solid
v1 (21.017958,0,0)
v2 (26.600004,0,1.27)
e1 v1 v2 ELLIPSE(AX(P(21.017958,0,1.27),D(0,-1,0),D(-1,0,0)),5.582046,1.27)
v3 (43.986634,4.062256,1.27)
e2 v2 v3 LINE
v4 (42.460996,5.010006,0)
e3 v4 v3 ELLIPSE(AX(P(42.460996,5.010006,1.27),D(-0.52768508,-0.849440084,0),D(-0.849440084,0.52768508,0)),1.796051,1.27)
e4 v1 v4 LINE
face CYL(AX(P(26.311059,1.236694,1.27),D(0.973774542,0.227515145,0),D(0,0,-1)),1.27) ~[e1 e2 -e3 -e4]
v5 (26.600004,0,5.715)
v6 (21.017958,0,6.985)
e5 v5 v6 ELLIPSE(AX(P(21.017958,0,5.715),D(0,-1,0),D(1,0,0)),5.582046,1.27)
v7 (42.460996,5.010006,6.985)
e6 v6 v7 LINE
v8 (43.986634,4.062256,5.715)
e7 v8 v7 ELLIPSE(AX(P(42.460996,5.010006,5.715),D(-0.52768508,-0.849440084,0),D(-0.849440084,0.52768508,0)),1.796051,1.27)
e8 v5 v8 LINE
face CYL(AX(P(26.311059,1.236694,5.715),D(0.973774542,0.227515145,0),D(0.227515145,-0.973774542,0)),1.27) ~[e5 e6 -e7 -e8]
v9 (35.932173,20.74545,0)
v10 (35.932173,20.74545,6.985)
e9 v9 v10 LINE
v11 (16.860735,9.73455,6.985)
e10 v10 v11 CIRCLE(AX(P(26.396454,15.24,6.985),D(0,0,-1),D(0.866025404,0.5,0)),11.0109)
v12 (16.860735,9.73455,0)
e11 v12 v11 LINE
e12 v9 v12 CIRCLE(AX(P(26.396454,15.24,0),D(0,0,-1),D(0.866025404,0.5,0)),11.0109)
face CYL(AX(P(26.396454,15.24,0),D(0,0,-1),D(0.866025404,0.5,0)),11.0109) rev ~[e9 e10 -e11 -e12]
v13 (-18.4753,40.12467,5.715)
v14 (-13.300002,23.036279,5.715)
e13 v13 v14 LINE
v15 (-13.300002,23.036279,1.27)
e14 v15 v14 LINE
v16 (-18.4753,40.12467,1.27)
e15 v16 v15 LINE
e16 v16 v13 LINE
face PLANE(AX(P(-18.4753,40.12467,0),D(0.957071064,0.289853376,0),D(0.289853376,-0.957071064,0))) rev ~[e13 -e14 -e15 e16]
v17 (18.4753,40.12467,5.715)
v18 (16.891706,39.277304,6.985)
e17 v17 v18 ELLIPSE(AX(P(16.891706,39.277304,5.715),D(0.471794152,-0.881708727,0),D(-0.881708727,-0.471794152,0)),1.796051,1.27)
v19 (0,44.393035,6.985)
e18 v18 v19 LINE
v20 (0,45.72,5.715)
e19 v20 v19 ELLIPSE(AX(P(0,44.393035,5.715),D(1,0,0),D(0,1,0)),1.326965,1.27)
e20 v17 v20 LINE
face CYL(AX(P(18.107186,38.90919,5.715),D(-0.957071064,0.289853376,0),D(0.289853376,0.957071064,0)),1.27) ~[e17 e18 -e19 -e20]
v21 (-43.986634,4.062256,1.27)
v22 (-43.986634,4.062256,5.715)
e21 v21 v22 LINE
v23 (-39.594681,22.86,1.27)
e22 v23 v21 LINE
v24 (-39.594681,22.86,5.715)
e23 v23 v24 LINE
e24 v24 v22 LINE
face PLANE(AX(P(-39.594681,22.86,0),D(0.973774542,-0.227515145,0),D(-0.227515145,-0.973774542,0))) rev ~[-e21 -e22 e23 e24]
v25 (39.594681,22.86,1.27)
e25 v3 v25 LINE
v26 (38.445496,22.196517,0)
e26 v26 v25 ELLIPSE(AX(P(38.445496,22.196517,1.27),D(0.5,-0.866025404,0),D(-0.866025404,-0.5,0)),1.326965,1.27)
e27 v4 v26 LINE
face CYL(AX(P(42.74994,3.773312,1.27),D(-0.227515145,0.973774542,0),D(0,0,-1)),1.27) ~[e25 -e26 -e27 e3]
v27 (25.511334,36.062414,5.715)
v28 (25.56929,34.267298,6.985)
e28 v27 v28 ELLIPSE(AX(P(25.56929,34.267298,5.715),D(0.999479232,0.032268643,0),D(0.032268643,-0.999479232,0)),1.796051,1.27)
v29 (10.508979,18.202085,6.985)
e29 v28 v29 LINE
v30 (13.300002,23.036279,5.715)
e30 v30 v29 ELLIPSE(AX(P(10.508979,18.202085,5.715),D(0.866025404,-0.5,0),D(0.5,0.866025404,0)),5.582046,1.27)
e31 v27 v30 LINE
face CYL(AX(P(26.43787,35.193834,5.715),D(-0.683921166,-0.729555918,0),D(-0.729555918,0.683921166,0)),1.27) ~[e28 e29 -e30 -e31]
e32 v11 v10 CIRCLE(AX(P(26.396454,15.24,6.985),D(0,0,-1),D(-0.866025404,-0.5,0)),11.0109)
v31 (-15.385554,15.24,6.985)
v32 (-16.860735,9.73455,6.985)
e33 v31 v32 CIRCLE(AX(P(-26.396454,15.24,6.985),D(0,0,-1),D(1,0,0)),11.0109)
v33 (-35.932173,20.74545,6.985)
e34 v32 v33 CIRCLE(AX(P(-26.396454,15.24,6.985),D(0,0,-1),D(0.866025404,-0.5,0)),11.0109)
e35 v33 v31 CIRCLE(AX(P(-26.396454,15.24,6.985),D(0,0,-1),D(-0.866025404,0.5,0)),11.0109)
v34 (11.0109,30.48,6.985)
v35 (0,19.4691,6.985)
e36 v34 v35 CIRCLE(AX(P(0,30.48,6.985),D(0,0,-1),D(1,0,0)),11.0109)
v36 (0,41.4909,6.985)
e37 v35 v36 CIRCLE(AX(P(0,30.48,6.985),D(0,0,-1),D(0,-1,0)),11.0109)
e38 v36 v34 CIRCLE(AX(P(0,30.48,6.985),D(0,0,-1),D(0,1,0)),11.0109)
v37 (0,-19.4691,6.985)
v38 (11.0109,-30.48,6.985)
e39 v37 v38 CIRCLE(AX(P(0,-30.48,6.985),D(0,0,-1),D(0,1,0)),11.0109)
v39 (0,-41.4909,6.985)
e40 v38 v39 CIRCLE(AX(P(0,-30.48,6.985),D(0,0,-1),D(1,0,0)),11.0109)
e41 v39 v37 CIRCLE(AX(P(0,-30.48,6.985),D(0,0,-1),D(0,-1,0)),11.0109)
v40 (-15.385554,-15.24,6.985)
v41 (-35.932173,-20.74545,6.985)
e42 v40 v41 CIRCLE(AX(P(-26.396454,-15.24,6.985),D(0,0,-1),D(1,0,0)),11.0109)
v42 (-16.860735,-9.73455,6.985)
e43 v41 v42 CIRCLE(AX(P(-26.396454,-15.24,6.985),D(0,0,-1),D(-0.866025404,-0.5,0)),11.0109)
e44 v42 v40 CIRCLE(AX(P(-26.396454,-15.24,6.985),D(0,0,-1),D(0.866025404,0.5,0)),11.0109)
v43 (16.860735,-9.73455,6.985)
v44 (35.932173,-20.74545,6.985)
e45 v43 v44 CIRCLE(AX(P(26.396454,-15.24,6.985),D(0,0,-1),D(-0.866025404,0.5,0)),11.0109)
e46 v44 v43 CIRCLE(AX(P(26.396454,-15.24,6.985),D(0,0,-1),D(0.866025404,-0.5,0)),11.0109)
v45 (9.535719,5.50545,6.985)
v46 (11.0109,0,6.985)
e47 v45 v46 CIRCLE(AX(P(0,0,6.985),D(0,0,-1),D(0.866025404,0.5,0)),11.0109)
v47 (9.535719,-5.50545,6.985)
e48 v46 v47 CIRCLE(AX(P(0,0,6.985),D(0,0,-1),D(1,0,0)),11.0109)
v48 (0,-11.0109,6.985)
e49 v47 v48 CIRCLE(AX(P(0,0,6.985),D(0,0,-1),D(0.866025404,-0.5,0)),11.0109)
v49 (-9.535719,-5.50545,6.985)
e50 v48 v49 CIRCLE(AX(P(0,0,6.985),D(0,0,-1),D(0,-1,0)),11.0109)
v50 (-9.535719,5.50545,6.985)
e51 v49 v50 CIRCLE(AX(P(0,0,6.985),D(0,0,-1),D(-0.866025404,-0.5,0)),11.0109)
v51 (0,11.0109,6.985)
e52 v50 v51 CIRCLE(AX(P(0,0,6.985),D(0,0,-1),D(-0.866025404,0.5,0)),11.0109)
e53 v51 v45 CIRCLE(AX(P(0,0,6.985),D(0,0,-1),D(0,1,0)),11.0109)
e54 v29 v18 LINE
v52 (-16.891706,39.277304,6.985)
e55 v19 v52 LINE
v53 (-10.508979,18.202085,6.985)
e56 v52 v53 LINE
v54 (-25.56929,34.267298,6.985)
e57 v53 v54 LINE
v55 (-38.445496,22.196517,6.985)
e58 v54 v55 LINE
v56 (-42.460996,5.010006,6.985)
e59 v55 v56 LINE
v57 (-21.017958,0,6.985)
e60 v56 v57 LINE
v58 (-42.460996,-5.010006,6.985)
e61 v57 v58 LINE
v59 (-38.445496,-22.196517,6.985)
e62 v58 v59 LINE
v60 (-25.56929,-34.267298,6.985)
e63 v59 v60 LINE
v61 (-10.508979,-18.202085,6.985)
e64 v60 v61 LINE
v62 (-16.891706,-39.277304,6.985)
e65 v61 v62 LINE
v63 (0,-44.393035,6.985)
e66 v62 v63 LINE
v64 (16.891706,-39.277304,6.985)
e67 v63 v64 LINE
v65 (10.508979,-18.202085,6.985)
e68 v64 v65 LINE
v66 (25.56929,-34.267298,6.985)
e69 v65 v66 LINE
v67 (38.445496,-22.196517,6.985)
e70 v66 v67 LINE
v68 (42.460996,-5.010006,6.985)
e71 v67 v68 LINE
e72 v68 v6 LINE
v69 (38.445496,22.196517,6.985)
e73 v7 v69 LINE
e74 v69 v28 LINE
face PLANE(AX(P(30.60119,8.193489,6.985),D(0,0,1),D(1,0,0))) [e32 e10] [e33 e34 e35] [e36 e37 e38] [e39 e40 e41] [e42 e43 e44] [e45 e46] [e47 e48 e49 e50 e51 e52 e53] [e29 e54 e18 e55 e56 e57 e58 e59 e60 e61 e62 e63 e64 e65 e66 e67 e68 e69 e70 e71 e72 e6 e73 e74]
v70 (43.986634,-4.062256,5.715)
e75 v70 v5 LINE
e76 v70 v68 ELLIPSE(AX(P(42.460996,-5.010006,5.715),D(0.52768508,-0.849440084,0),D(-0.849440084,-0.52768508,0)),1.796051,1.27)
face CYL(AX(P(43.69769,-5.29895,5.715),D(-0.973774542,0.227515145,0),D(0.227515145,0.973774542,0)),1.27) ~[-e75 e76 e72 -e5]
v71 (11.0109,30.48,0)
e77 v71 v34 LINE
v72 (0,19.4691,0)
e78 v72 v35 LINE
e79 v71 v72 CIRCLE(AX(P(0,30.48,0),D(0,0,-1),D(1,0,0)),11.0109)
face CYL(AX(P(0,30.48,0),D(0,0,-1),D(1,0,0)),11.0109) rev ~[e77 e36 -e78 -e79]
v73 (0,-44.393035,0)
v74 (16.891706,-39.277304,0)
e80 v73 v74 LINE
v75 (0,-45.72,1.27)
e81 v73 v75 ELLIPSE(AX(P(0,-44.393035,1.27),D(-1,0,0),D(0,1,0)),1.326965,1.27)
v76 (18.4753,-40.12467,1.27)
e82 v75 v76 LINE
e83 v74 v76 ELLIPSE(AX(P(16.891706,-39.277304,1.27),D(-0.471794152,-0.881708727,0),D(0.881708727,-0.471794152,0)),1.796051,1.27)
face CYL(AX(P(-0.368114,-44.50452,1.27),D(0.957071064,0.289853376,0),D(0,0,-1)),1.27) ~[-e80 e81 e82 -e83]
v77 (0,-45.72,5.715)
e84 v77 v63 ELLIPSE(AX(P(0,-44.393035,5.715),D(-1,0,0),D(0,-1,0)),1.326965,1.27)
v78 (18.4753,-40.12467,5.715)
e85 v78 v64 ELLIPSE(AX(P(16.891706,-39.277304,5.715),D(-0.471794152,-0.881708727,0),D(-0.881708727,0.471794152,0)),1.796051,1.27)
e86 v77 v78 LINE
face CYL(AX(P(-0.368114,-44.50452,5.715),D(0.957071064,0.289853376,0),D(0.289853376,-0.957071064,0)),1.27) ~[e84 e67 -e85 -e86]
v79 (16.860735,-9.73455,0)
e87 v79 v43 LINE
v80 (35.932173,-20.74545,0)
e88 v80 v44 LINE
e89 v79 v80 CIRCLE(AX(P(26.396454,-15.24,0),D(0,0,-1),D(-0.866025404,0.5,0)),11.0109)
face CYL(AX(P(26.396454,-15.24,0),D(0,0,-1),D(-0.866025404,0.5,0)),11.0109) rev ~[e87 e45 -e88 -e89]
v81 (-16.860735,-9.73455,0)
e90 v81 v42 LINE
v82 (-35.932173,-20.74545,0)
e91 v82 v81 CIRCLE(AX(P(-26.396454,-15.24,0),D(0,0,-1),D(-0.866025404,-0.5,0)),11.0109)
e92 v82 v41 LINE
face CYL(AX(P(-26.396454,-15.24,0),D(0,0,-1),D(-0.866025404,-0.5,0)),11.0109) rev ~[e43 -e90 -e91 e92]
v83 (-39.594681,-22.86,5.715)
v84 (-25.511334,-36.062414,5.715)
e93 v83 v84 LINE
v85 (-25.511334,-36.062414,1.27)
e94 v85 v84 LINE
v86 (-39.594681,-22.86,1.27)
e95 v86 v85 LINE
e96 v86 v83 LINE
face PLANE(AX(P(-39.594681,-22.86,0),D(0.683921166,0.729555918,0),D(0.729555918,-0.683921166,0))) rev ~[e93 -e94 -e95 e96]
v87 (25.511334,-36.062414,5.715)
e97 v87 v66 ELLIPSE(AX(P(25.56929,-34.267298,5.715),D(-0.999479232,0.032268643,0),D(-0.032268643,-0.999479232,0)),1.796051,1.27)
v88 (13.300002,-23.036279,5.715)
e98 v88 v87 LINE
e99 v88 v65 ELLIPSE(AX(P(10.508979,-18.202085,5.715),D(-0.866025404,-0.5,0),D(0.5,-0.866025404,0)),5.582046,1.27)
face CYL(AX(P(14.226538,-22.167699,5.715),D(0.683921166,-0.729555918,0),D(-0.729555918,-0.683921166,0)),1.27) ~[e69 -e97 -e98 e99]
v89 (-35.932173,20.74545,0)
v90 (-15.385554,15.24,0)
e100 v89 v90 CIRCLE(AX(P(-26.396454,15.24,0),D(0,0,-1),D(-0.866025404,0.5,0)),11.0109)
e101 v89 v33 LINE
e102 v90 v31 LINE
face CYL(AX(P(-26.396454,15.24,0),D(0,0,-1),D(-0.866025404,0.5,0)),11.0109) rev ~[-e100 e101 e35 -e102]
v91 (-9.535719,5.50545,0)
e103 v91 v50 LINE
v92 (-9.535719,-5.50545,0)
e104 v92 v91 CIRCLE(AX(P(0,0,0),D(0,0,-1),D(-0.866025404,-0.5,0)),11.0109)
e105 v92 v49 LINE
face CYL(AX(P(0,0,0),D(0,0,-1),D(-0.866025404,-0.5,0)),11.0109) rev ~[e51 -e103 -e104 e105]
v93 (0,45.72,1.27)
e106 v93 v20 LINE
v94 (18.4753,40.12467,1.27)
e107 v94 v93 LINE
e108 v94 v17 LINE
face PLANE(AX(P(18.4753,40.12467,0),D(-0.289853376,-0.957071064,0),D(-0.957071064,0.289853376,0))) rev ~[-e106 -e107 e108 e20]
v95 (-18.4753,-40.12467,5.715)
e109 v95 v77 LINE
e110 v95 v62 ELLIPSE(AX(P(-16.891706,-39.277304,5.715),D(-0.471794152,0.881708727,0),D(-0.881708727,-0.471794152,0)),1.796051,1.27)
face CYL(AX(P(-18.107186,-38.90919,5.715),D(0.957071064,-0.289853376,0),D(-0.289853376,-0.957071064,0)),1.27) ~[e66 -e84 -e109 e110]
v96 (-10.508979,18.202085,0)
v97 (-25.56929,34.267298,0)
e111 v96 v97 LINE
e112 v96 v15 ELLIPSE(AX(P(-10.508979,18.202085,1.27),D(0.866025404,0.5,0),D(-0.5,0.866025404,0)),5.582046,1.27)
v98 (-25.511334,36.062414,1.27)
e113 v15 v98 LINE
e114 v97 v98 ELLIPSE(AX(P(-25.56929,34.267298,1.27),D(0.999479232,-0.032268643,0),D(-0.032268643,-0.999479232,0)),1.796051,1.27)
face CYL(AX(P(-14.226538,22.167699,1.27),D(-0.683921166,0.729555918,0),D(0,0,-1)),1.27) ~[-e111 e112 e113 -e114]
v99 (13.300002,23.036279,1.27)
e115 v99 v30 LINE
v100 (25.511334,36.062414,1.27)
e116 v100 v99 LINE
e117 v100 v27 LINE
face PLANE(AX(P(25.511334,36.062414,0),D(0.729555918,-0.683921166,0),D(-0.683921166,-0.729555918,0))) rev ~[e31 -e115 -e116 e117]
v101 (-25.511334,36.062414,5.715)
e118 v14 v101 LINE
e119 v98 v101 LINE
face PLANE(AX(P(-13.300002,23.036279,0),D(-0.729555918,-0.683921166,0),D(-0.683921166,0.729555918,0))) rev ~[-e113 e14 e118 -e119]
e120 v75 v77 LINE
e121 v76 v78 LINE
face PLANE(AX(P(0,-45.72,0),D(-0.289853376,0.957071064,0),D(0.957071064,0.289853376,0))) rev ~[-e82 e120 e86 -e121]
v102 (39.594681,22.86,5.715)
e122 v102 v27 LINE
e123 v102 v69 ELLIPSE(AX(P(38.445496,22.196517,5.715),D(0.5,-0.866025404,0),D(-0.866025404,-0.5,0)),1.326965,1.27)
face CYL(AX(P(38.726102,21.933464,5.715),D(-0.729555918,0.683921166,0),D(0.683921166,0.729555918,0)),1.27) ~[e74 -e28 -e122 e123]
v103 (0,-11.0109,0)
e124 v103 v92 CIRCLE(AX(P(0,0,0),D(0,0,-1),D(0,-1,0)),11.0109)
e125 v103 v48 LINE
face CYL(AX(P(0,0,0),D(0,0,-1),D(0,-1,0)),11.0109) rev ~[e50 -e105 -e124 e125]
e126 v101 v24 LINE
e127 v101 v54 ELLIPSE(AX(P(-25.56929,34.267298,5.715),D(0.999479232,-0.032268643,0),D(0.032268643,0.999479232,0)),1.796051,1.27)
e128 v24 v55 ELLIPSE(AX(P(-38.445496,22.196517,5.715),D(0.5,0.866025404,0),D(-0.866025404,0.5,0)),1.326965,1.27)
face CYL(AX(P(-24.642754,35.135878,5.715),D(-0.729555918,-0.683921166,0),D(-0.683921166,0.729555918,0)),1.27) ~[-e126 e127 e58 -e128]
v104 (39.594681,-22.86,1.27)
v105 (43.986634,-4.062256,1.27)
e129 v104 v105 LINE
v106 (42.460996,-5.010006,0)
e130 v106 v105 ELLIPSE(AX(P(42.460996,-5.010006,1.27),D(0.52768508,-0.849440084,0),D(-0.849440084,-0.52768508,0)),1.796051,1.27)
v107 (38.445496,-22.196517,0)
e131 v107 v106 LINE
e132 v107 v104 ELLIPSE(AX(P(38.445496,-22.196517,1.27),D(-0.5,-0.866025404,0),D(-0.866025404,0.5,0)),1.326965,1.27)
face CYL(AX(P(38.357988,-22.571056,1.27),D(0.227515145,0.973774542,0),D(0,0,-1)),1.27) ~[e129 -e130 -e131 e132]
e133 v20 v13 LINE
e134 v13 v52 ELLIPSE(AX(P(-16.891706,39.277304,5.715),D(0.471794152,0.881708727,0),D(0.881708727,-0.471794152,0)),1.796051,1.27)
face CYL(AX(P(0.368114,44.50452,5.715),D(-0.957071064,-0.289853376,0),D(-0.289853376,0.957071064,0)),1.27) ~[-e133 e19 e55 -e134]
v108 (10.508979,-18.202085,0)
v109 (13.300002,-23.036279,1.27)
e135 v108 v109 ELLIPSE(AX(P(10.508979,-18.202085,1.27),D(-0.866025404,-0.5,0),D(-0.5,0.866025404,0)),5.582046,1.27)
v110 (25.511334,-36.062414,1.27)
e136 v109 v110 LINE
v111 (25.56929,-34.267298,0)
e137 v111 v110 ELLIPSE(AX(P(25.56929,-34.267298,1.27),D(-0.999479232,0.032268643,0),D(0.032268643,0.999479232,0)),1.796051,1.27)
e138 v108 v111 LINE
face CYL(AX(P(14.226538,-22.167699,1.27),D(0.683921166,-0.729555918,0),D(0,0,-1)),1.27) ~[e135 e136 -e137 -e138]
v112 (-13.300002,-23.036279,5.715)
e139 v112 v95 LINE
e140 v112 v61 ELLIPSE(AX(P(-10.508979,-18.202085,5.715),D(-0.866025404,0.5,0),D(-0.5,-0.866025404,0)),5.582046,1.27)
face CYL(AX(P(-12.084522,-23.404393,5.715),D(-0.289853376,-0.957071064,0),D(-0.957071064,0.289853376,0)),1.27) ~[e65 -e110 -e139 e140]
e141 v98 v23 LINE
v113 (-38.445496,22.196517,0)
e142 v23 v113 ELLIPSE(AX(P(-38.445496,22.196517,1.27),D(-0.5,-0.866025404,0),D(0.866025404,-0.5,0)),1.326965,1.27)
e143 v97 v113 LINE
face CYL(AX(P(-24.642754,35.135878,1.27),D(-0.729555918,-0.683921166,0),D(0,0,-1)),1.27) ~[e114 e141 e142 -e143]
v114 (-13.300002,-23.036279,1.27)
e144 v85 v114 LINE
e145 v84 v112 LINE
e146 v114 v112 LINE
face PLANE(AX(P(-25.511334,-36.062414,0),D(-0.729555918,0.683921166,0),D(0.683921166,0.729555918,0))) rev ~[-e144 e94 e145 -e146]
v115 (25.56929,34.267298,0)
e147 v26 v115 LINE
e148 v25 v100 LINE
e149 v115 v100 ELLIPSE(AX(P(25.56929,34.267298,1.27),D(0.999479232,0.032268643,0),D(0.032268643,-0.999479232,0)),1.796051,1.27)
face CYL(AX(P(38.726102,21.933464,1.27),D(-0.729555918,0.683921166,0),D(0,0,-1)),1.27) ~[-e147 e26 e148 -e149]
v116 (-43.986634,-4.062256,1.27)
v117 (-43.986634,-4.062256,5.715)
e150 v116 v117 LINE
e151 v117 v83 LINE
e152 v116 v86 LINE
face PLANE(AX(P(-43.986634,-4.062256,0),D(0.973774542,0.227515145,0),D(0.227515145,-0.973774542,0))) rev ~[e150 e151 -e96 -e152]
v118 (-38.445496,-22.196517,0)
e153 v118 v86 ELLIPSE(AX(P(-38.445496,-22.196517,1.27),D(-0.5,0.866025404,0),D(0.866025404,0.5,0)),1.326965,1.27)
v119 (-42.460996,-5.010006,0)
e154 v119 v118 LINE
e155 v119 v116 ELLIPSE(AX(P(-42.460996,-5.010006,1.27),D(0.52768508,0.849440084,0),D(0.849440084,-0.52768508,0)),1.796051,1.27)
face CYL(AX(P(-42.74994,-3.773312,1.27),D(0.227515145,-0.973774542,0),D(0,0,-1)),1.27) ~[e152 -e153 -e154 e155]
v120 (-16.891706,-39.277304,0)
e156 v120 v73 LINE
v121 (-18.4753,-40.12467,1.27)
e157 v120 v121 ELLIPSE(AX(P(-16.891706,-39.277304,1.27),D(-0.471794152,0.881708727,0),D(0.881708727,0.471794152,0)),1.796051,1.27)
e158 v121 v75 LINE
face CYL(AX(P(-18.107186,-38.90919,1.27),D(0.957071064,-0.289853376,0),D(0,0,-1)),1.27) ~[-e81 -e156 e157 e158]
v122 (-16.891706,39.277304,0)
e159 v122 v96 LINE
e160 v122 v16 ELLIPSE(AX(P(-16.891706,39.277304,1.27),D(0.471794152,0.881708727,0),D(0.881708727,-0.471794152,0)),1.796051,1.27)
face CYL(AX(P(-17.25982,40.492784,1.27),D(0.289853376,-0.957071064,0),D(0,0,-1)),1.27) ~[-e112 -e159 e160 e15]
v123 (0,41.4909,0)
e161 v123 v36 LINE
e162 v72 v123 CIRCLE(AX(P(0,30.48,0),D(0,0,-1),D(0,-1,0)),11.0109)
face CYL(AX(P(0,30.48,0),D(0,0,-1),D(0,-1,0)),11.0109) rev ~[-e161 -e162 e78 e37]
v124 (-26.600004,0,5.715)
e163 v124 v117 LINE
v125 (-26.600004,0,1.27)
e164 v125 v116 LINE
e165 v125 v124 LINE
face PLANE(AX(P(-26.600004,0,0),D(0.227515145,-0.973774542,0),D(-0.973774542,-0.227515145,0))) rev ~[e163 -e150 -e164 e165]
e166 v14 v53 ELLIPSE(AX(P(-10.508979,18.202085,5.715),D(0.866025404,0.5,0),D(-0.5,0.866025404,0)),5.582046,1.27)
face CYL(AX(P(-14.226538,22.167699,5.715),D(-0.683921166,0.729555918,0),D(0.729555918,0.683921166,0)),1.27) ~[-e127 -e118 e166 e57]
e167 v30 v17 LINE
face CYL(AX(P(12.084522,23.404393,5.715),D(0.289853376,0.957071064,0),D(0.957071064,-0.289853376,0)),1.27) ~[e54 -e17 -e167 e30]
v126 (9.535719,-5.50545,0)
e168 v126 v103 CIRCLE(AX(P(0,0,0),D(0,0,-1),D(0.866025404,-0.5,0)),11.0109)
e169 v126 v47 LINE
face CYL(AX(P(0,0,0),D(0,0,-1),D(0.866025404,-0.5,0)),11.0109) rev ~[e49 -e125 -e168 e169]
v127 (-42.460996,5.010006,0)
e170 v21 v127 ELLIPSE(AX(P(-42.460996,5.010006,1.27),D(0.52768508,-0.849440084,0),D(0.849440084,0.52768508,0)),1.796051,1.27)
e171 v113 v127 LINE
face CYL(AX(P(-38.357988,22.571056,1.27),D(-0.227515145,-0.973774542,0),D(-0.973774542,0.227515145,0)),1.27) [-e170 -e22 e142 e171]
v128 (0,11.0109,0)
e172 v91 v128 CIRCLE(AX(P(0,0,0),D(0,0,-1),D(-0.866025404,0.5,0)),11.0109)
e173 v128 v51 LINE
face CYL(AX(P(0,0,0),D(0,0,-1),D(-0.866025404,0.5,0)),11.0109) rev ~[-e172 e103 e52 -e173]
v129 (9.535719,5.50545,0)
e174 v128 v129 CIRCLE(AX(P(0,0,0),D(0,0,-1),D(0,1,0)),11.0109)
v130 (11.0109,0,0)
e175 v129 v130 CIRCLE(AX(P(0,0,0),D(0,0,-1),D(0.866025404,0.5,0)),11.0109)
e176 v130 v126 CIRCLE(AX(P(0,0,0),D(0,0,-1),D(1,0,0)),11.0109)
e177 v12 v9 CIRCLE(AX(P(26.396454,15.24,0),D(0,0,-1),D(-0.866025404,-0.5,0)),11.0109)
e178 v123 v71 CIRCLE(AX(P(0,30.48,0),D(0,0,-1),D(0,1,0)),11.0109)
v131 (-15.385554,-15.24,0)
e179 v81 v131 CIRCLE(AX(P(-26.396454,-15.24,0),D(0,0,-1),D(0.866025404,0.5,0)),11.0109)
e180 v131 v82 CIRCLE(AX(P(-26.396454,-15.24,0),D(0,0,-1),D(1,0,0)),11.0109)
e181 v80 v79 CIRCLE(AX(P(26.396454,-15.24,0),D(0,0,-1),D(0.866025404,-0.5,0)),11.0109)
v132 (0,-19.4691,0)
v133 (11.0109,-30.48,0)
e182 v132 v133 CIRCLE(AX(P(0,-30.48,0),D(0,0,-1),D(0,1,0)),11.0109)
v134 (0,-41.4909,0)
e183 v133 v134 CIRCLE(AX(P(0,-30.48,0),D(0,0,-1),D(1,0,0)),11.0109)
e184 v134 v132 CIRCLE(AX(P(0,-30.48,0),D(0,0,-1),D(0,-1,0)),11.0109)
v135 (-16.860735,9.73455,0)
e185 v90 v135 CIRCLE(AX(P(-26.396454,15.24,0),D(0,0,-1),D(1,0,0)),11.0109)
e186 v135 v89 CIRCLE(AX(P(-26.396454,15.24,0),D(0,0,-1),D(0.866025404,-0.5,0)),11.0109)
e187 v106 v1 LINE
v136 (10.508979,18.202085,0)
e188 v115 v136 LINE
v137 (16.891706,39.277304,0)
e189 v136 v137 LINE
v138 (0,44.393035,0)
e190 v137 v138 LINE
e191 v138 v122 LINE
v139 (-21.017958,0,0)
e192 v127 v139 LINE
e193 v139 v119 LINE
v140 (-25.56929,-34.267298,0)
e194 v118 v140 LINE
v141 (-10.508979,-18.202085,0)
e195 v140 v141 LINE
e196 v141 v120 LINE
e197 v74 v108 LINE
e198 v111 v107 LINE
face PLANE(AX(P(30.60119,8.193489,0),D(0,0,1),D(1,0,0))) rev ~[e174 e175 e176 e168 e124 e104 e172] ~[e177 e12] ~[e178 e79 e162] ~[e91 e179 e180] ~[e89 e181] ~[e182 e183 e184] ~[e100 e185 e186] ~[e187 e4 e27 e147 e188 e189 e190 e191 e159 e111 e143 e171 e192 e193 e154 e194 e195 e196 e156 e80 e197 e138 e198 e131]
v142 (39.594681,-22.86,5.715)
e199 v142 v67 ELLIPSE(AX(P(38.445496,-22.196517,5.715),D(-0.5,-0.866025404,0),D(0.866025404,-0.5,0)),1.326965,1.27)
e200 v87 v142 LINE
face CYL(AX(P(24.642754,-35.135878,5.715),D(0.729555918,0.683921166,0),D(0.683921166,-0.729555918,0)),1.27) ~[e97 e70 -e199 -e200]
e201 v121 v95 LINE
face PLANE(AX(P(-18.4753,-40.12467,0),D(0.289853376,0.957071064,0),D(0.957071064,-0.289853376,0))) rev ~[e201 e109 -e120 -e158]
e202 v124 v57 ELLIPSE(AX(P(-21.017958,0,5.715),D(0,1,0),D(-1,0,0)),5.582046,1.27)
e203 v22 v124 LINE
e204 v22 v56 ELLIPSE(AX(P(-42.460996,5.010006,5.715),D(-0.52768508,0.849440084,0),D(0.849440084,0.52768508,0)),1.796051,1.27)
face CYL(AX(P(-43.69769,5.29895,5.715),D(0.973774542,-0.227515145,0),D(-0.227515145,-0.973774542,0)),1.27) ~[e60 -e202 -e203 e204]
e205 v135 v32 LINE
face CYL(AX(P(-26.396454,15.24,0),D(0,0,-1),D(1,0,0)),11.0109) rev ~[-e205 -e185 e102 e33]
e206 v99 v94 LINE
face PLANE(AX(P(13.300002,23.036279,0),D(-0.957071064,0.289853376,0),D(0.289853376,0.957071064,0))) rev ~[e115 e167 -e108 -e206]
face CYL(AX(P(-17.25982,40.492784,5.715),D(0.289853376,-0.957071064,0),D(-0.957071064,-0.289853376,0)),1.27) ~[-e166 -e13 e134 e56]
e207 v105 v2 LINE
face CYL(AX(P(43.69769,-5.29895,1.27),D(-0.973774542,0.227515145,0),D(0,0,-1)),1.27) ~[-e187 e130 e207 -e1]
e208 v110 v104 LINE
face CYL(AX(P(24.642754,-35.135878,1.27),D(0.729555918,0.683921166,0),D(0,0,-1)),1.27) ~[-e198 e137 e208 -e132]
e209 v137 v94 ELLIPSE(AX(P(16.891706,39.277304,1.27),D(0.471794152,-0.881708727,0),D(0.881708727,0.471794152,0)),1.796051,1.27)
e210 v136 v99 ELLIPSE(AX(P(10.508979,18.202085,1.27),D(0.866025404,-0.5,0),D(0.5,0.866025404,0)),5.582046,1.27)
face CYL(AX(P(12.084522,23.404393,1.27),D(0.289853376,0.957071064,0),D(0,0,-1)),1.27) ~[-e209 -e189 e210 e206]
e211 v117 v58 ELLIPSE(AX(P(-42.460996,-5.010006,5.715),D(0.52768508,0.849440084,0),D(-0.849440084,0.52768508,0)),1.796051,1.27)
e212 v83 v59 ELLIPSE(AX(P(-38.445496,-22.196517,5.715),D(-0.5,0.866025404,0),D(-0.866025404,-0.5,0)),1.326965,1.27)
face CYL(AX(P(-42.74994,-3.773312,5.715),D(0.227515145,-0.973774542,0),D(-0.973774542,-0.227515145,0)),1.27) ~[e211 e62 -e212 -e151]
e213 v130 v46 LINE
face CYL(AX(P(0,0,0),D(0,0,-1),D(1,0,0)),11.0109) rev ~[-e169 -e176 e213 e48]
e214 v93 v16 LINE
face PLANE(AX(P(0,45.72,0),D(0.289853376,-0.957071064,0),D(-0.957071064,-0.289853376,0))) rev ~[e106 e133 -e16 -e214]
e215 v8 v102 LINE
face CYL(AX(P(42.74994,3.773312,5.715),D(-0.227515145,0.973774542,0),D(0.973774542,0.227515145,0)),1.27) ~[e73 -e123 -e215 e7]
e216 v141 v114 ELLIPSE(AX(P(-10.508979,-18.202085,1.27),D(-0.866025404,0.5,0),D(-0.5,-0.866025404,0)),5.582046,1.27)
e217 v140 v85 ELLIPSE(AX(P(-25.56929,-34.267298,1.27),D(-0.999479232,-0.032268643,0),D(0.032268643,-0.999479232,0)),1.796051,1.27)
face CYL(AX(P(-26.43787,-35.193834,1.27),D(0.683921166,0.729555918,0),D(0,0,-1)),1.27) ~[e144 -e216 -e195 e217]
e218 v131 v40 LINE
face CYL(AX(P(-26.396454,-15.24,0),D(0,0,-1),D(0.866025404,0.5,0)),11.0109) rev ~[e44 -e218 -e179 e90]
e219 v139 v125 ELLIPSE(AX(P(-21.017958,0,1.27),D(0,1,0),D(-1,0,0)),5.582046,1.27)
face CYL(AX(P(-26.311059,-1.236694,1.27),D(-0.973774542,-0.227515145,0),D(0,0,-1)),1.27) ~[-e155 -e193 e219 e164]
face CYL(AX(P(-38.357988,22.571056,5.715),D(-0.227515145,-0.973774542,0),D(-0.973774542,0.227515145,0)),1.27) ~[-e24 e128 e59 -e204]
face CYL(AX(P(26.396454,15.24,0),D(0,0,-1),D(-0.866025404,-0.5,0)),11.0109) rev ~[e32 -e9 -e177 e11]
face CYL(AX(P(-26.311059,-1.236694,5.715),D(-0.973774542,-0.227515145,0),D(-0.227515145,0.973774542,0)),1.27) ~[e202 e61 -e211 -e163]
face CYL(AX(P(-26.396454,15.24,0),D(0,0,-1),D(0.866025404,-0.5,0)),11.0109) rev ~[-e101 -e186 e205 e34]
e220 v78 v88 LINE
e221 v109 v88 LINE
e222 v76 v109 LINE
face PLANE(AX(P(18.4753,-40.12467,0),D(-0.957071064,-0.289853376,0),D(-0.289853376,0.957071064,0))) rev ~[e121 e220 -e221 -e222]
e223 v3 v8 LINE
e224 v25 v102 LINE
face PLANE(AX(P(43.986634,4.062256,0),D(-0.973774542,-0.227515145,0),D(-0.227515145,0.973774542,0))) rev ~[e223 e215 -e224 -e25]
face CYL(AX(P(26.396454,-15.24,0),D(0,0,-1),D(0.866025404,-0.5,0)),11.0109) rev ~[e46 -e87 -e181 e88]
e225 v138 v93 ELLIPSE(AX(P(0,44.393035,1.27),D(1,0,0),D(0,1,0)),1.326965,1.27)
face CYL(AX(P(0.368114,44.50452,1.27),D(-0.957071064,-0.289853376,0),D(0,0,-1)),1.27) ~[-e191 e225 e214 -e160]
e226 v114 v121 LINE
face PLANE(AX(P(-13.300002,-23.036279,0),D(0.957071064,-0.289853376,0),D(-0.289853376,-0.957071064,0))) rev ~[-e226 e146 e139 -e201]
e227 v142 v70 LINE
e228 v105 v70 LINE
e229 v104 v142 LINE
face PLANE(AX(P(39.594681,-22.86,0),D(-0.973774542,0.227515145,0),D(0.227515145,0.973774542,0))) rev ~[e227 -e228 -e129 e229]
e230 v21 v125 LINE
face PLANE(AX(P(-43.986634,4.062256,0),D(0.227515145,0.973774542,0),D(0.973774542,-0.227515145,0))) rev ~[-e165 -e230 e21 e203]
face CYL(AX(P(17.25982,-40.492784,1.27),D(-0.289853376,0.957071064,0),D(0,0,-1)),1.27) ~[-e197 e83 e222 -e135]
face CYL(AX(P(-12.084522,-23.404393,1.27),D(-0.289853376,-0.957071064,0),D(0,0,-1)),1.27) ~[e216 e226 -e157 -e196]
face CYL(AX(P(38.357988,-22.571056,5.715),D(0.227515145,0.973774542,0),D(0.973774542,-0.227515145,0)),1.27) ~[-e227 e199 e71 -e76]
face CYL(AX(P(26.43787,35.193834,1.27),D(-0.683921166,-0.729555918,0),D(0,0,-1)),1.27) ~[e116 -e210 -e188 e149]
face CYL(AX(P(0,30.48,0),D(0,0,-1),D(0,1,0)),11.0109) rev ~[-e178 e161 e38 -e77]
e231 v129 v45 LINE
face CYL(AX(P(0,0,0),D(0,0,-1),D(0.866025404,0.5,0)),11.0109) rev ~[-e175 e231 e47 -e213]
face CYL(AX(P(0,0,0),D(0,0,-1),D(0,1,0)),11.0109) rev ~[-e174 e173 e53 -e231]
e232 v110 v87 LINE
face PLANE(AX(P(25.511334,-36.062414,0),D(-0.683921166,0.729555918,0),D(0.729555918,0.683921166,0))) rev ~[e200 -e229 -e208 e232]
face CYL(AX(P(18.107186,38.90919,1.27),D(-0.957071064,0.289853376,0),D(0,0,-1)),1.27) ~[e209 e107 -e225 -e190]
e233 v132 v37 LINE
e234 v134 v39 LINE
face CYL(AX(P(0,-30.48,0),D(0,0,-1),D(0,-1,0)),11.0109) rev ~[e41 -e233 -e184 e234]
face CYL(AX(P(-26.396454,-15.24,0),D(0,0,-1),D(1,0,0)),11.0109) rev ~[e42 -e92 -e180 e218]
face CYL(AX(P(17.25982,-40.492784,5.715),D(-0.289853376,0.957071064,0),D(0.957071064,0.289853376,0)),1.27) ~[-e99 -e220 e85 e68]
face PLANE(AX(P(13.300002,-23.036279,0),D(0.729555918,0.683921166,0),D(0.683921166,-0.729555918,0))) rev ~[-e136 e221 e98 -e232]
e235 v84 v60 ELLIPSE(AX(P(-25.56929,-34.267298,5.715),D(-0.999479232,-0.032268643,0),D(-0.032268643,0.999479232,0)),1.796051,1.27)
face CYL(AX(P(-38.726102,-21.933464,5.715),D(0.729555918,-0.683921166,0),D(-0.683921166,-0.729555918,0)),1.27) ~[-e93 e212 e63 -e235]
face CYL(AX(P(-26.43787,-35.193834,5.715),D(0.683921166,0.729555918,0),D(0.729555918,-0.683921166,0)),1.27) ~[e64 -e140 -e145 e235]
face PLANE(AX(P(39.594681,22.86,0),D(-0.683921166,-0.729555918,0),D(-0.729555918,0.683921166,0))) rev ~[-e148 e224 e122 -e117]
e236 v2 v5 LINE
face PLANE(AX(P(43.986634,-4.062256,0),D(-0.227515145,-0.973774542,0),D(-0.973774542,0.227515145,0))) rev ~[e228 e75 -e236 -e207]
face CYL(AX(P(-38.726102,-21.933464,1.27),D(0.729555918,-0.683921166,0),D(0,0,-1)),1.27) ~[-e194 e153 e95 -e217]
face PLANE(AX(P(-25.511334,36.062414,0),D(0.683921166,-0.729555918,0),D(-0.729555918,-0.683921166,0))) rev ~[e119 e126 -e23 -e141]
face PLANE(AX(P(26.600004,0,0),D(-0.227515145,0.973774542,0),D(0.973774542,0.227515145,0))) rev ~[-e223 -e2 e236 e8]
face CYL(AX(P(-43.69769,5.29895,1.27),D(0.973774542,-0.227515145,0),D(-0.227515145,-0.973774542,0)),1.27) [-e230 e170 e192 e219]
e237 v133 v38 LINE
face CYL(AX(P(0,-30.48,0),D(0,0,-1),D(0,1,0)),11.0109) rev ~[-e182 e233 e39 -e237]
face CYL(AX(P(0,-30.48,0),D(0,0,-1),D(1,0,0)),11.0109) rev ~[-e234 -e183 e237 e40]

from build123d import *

# Parameters (mm, degrees)
F1_DEPTH = 6.985
F2_R     = 1.27
F3_R     = 1.27


with BuildPart() as f1:
    # F0 (on Top) → F1 (new body)
    with BuildSketch(Plane.XY):
        with BuildLine():
            Line((16.8607351888, 9.73455), (12.3232464425, 7.1148296509))
            ThreePointArc((12.3232464425, 7.1148296509), (13.2836873211, 5.1016521834), (13.9177271481, 2.9631191126))
            Line((13.9177271481, 2.9631191126), (26.6000035513, 0))
            Line((26.6000035513, 0), (43.9866338233, 4.0622562405))
            Line((43.9866338233, 4.0622562405), (39.594681461, 22.86))
            Line((39.594681461, 22.86), (35.9321734259, 20.74545))
            ThreePointArc((35.9321734259, 20.74545), (37.032166988, 18.0898306237), (37.4073543073, 15.24))
            ThreePointArc((37.4073543073, 15.24), (29.2462849311, 4.6042873193), (16.8607351888, 9.73455))
        make_face()
        with BuildLine():
            ThreePointArc((9.525, 10.5715457169), (11.0600040526, 8.9531845843), (12.3232464425, 7.1148296509))
            Line((12.3232464425, 7.1148296509), (16.8607351888, 9.73455))
            ThreePointArc((16.8607351888, 9.73455), (20.8910043073, 24.7757191185), (35.9321734259, 20.74545))
            Line((35.9321734259, 20.74545), (39.594681461, 22.86))
            Line((39.594681461, 22.86), (25.5113340126, 36.0624141977))
            Line((25.5113340126, 36.0624141977), (13.3000017757, 23.0362788162))
            Line((13.3000017757, 23.0362788162), (9.525, 10.5715457169))
        make_face()
        with BuildLine():
            Line((16.8607351888, -9.73455), (12.3232464425, -7.1148296509))
            ThreePointArc((12.3232464425, -7.1148296509), (11.0600040526, -8.9531845843), (9.525, -10.5715457169))
            Line((9.525, -10.5715457169), (13.3000017757, -23.0362788162))
            Line((13.3000017757, -23.0362788162), (25.5113340126, -36.0624141977))
            Line((25.5113340126, -36.0624141977), (39.594681461, -22.86))
            Line((39.594681461, -22.86), (35.9321734259, -20.74545))
            ThreePointArc((35.9321734259, -20.74545), (20.8910043073, -24.7757191185), (16.8607351888, -9.73455))
        make_face()
        with BuildLine():
            ThreePointArc((13.9177271481, -2.9631191126), (13.2836873211, -5.1016521834), (12.3232464425, -7.1148296509))
            Line((12.3232464425, -7.1148296509), (16.8607351888, -9.73455))
            ThreePointArc((16.8607351888, -9.73455), (29.2462849311, -4.6042873193), (37.4073543073, -15.24))
            ThreePointArc((37.4073543073, -15.24), (37.032166988, -18.0898306237), (35.9321734259, -20.74545))
            Line((35.9321734259, -20.74545), (39.594681461, -22.86))
            Line((39.594681461, -22.86), (43.9866338233, -4.0622562405))
            Line((43.9866338233, -4.0622562405), (26.6000035513, 0))
            Line((26.6000035513, 0), (13.9177271481, -2.9631191126))
        make_face()
        with BuildLine():
            ThreePointArc((-4.3927271481, 13.5346648295), (-2.2236832685, 14.0548367676), (0, 14.2296593017))
            Line((0, 14.2296593017), (0, 19.4691))
            ThreePointArc((0, 19.4691), (-11.0109, 30.48), (0, 41.4909))
            Line((0, 41.4909), (0, 45.72))
            Line((0, 45.72), (-18.4752998107, 40.1246704382))
            Line((-18.4752998107, 40.1246704382), (-13.3000017757, 23.0362788162))
            Line((-13.3000017757, 23.0362788162), (-4.3927271481, 13.5346648295))
        make_face()
        with BuildLine():
            Line((0, 19.4691), (0, 14.2296593017))
            ThreePointArc((0, 14.2296593017), (2.2236832685, 14.0548367676), (4.3927271481, 13.5346648295))
            Line((4.3927271481, 13.5346648295), (13.3000017757, 23.0362788162))
            Line((13.3000017757, 23.0362788162), (18.4752998107, 40.1246704382))
            Line((18.4752998107, 40.1246704382), (0, 45.72))
            Line((0, 45.72), (0, 41.4909))
            ThreePointArc((0, 41.4909), (7.785882057, 38.265882057), (11.0109, 30.48))
            ThreePointArc((11.0109, 30.48), (7.785882057, 22.694117943), (0, 19.4691))
        make_face()
        with BuildLine():
            Line((26.6000035513, 0), (13.9177271481, 2.9631191126))
            ThreePointArc((13.9177271481, 2.9631191126), (14.1514613983, 1.4897463328), (14.2296593017, 0))
            ThreePointArc((14.2296593017, 0), (14.1514613983, -1.4897463328), (13.9177271481, -2.9631191126))
            Line((13.9177271481, -2.9631191126), (26.6000035513, 0))
        make_face()
        with BuildLine():
            ThreePointArc((4.3927271481, 13.5346648295), (7.1148296509, 12.3232464425), (9.525, 10.5715457169))
            Line((9.525, 10.5715457169), (13.3000017757, 23.0362788162))
            Line((13.3000017757, 23.0362788162), (4.3927271481, 13.5346648295))
        make_face()
        with BuildLine():
            Line((0, -19.4691), (0, -14.2296593017))
            ThreePointArc((0, -14.2296593017), (-2.2236832685, -14.0548367676), (-4.3927271481, -13.5346648295))
            Line((-4.3927271481, -13.5346648295), (-13.3000017757, -23.0362788162))
            Line((-13.3000017757, -23.0362788162), (-18.4752998107, -40.1246704382))
            Line((-18.4752998107, -40.1246704382), (0, -45.72))
            Line((0, -45.72), (0, -41.4909))
            ThreePointArc((0, -41.4909), (-11.0109, -30.48), (0, -19.4691))
        make_face()
        with BuildLine():
            ThreePointArc((4.3927271481, -13.5346648295), (2.2236832685, -14.0548367676), (0, -14.2296593017))
            Line((0, -14.2296593017), (0, -19.4691))
            ThreePointArc((0, -19.4691), (7.785882057, -22.694117943), (11.0109, -30.48))
            ThreePointArc((11.0109, -30.48), (7.785882057, -38.265882057), (0, -41.4909))
            Line((0, -41.4909), (0, -45.72))
            Line((0, -45.72), (18.4752998107, -40.1246704382))
            Line((18.4752998107, -40.1246704382), (13.3000017757, -23.0362788162))
            Line((13.3000017757, -23.0362788162), (4.3927271481, -13.5346648295))
        make_face()
        with BuildLine():
            Line((13.3000017757, -23.0362788162), (9.525, -10.5715457169))
            ThreePointArc((9.525, -10.5715457169), (7.1148296509, -12.3232464425), (4.3927271481, -13.5346648295))
            Line((4.3927271481, -13.5346648295), (13.3000017757, -23.0362788162))
        make_face()
        with BuildLine():
            Line((-16.8607351888, 9.73455), (-12.3232464425, 7.1148296509))
            ThreePointArc((-12.3232464425, 7.1148296509), (-11.0600040526, 8.9531845843), (-9.525, 10.5715457169))
            Line((-9.525, 10.5715457169), (-13.3000017757, 23.0362788162))
            Line((-13.3000017757, 23.0362788162), (-25.5113340126, 36.0624141977))
            Line((-25.5113340126, 36.0624141977), (-39.594681461, 22.86))
            Line((-39.594681461, 22.86), (-35.9321734259, 20.74545))
            ThreePointArc((-35.9321734259, 20.74545), (-23.5466236836, 25.8757126807), (-15.3855543073, 15.24))
            ThreePointArc((-15.3855543073, 15.24), (-15.7607416267, 12.3901693763), (-16.8607351888, 9.73455))
        make_face()
        with BuildLine():
            ThreePointArc((-13.9177271481, 2.9631191126), (-13.2836873211, 5.1016521834), (-12.3232464425, 7.1148296509))
            Line((-12.3232464425, 7.1148296509), (-16.8607351888, 9.73455))
            ThreePointArc((-16.8607351888, 9.73455), (-31.9019043073, 5.7042808815), (-35.9321734259, 20.74545))
            Line((-35.9321734259, 20.74545), (-39.594681461, 22.86))
            Line((-39.594681461, 22.86), (-43.9866338233, 4.0622562405))
            Line((-43.9866338233, 4.0622562405), (-26.6000035513, 0))
            Line((-26.6000035513, 0), (-13.9177271481, 2.9631191126))
        make_face()
        with BuildLine():
            ThreePointArc((-9.525, 10.5715457169), (-7.1148296509, 12.3232464425), (-4.3927271481, 13.5346648295))
            Line((-4.3927271481, 13.5346648295), (-13.3000017757, 23.0362788162))
            Line((-13.3000017757, 23.0362788162), (-9.525, 10.5715457169))
        make_face()
        with BuildLine():
            Line((-16.8607351888, -9.73455), (-12.3232464425, -7.1148296509))
            ThreePointArc((-12.3232464425, -7.1148296509), (-13.2836873211, -5.1016521834), (-13.9177271481, -2.9631191126))
            Line((-13.9177271481, -2.9631191126), (-26.6000035513, 0))
            Line((-26.6000035513, 0), (-43.9866338233, -4.0622562405))
            Line((-43.9866338233, -4.0622562405), (-39.594681461, -22.86))
            Line((-39.594681461, -22.86), (-35.9321734259, -20.74545))
            ThreePointArc((-35.9321734259, -20.74545), (-31.9019043073, -5.7042808815), (-16.8607351888, -9.73455))
        make_face()
        with BuildLine():
            ThreePointArc((-9.525, -10.5715457169), (-11.0600040526, -8.9531845843), (-12.3232464425, -7.1148296509))
            Line((-12.3232464425, -7.1148296509), (-16.8607351888, -9.73455))
            ThreePointArc((-16.8607351888, -9.73455), (-15.7607416267, -12.3901693763), (-15.3855543073, -15.24))
            ThreePointArc((-15.3855543073, -15.24), (-23.5466236836, -25.8757126807), (-35.9321734259, -20.74545))
            Line((-35.9321734259, -20.74545), (-39.594681461, -22.86))
            Line((-39.594681461, -22.86), (-25.5113340126, -36.0624141977))
            Line((-25.5113340126, -36.0624141977), (-13.3000017757, -23.0362788162))
            Line((-13.3000017757, -23.0362788162), (-9.525, -10.5715457169))
        make_face()
        with BuildLine():
            Line((-13.3000017757, -23.0362788162), (-4.3927271481, -13.5346648295))
            ThreePointArc((-4.3927271481, -13.5346648295), (-7.1148296509, -12.3232464425), (-9.525, -10.5715457169))
            Line((-9.525, -10.5715457169), (-13.3000017757, -23.0362788162))
        make_face()
        with BuildLine():
            ThreePointArc((-13.9177271481, -2.9631191126), (-14.2296593017, 0), (-13.9177271481, 2.9631191126))
            Line((-13.9177271481, 2.9631191126), (-26.6000035513, 0))
            Line((-26.6000035513, 0), (-13.9177271481, -2.9631191126))
        make_face()
        with BuildLine():
            ThreePointArc((-9.5357191185, -5.50545), (-11.0109, 0), (-9.5357191185, 5.50545))
            Line((-9.5357191185, 5.50545), (-12.3232464425, 7.1148296509))
            ThreePointArc((-12.3232464425, 7.1148296509), (-13.2836873211, 5.1016521834), (-13.9177271481, 2.9631191126))
            ThreePointArc((-13.9177271481, 2.9631191126), (-14.2296593017, 0), (-13.9177271481, -2.9631191126))
            ThreePointArc((-13.9177271481, -2.9631191126), (-13.2836873211, -5.1016521834), (-12.3232464425, -7.1148296509))
            Line((-12.3232464425, -7.1148296509), (-9.5357191185, -5.50545))
        make_face()
        with BuildLine():
            ThreePointArc((-9.5357191185, 5.50545), (-5.50545, 9.5357191185), (0, 11.0109))
            Line((0, 11.0109), (0, 14.2296593017))
            ThreePointArc((0, 14.2296593017), (-2.2236832685, 14.0548367676), (-4.3927271481, 13.5346648295))
            ThreePointArc((-4.3927271481, 13.5346648295), (-7.1148296509, 12.3232464425), (-9.525, 10.5715457169))
            ThreePointArc((-9.525, 10.5715457169), (-11.0600040526, 8.9531845843), (-12.3232464425, 7.1148296509))
            Line((-12.3232464425, 7.1148296509), (-9.5357191185, 5.50545))
        make_face()
        with BuildLine():
            ThreePointArc((0, 11.0109), (5.50545, 9.5357191185), (9.5357191185, 5.50545))
            Line((9.5357191185, 5.50545), (12.3232464425, 7.1148296509))
            ThreePointArc((12.3232464425, 7.1148296509), (11.0600040526, 8.9531845843), (9.525, 10.5715457169))
            ThreePointArc((9.525, 10.5715457169), (7.1148296509, 12.3232464425), (4.3927271481, 13.5346648295))
            ThreePointArc((4.3927271481, 13.5346648295), (2.2236832685, 14.0548367676), (0, 14.2296593017))
            Line((0, 14.2296593017), (0, 11.0109))
        make_face()
        with BuildLine():
            ThreePointArc((9.5357191185, 5.50545), (10.6357126807, 2.8498306237), (11.0109, 0))
            ThreePointArc((11.0109, 0), (10.6357126807, -2.8498306237), (9.5357191185, -5.50545))
            Line((9.5357191185, -5.50545), (12.3232464425, -7.1148296509))
            ThreePointArc((12.3232464425, -7.1148296509), (13.2836873211, -5.1016521834), (13.9177271481, -2.9631191126))
            ThreePointArc((13.9177271481, -2.9631191126), (14.1514613983, -1.4897463328), (14.2296593017, 0))
            ThreePointArc((14.2296593017, 0), (14.1514613983, 1.4897463328), (13.9177271481, 2.9631191126))
            ThreePointArc((13.9177271481, 2.9631191126), (13.2836873211, 5.1016521834), (12.3232464425, 7.1148296509))
            Line((12.3232464425, 7.1148296509), (9.5357191185, 5.50545))
        make_face()
        with BuildLine():
            Line((12.3232464425, -7.1148296509), (9.5357191185, -5.50545))
            ThreePointArc((9.5357191185, -5.50545), (5.50545, -9.5357191185), (0, -11.0109))
            Line((0, -11.0109), (0, -14.2296593017))
            ThreePointArc((0, -14.2296593017), (2.2236832685, -14.0548367676), (4.3927271481, -13.5346648295))
            ThreePointArc((4.3927271481, -13.5346648295), (7.1148296509, -12.3232464425), (9.525, -10.5715457169))
            ThreePointArc((9.525, -10.5715457169), (11.0600040526, -8.9531845843), (12.3232464425, -7.1148296509))
        make_face()
        with BuildLine():
            Line((0, -14.2296593017), (0, -11.0109))
            ThreePointArc((0, -11.0109), (-5.50545, -9.5357191185), (-9.5357191185, -5.50545))
            Line((-9.5357191185, -5.50545), (-12.3232464425, -7.1148296509))
            ThreePointArc((-12.3232464425, -7.1148296509), (-11.0600040526, -8.9531845843), (-9.525, -10.5715457169))
            ThreePointArc((-9.525, -10.5715457169), (-7.1148296509, -12.3232464425), (-4.3927271481, -13.5346648295))
            ThreePointArc((-4.3927271481, -13.5346648295), (-2.2236832685, -14.0548367676), (0, -14.2296593017))
        make_face()
    extrude(amount=F1_DEPTH)

    # F2
    f2_edges = [f1.edges().sort_by_distance(p)[0] for p in [
        (9.23765, 42.922335, 6.985),
        (15.887651, 31.580475, 6.985),
        (19.405668, 29.549347, 6.985),
        (32.553008, 29.461207, 6.985),
        (41.790658, 13.461128, 6.985),
        (35.293319, 2.031128, 6.985),
        (35.293319, -2.031128, 6.985),
        (19.405668, -29.549347, 6.985),
        (15.887651, -31.580475, 6.985),
        (-15.887651, -31.580475, 6.985),
        (-19.405668, -29.549347, 6.985),
        (-35.293319, -2.031128, 6.985),
        (-35.293319, 2.031128, 6.985),
        (-19.405668, 29.549347, 6.985),
        (-15.887651, 31.580475, 6.985),
        (-9.23765, 42.922335, 6.985),
        (-32.553008, 29.461207, 6.985),
        (-41.790658, 13.461128, 6.985),
        (-41.790658, -13.461128, 6.985),
        (-32.553008, -29.461207, 6.985),
        (-9.23765, -42.922335, 6.985),
        (9.23765, -42.922335, 6.985),
        (32.553008, -29.461207, 6.985),
        (41.790658, -13.461128, 6.985),
    ]]
    fillet(f2_edges, radius=F2_R)

    # F3
    f3_edges = [f1.edges().sort_by_distance(p)[0] for p in [
        (-32.553008, -29.461207, 0),
        (-41.790658, -13.461128, 0),
        (-35.293319, -2.031128, 0),
        (-35.293319, 2.031128, 0),
        (-41.790658, 13.461128, 0),
        (-32.553008, 29.461207, 0),
        (-19.405668, 29.549347, 0),
        (-15.887651, 31.580475, 0),
        (15.887651, 31.580475, 0),
        (9.23765, 42.922335, 0),
        (-9.23765, 42.922335, 0),
        (19.405668, 29.549347, 0),
        (32.553008, 29.461207, 0),
        (41.790658, 13.461128, 0),
        (35.293319, -2.031128, 0),
        (35.293319, 2.031128, 0),
        (41.790658, -13.461128, 0),
        (32.553008, -29.461207, 0),
        (9.23765, -42.922335, 0),
        (-9.23765, -42.922335, 0),
        (-15.887651, -31.580475, 0),
        (-19.405668, -29.549347, 0),
        (15.887651, -31.580475, 0),
        (19.405668, -29.549347, 0),
    ]]
    fillet(f3_edges, radius=F3_R)


solid = f1.part
